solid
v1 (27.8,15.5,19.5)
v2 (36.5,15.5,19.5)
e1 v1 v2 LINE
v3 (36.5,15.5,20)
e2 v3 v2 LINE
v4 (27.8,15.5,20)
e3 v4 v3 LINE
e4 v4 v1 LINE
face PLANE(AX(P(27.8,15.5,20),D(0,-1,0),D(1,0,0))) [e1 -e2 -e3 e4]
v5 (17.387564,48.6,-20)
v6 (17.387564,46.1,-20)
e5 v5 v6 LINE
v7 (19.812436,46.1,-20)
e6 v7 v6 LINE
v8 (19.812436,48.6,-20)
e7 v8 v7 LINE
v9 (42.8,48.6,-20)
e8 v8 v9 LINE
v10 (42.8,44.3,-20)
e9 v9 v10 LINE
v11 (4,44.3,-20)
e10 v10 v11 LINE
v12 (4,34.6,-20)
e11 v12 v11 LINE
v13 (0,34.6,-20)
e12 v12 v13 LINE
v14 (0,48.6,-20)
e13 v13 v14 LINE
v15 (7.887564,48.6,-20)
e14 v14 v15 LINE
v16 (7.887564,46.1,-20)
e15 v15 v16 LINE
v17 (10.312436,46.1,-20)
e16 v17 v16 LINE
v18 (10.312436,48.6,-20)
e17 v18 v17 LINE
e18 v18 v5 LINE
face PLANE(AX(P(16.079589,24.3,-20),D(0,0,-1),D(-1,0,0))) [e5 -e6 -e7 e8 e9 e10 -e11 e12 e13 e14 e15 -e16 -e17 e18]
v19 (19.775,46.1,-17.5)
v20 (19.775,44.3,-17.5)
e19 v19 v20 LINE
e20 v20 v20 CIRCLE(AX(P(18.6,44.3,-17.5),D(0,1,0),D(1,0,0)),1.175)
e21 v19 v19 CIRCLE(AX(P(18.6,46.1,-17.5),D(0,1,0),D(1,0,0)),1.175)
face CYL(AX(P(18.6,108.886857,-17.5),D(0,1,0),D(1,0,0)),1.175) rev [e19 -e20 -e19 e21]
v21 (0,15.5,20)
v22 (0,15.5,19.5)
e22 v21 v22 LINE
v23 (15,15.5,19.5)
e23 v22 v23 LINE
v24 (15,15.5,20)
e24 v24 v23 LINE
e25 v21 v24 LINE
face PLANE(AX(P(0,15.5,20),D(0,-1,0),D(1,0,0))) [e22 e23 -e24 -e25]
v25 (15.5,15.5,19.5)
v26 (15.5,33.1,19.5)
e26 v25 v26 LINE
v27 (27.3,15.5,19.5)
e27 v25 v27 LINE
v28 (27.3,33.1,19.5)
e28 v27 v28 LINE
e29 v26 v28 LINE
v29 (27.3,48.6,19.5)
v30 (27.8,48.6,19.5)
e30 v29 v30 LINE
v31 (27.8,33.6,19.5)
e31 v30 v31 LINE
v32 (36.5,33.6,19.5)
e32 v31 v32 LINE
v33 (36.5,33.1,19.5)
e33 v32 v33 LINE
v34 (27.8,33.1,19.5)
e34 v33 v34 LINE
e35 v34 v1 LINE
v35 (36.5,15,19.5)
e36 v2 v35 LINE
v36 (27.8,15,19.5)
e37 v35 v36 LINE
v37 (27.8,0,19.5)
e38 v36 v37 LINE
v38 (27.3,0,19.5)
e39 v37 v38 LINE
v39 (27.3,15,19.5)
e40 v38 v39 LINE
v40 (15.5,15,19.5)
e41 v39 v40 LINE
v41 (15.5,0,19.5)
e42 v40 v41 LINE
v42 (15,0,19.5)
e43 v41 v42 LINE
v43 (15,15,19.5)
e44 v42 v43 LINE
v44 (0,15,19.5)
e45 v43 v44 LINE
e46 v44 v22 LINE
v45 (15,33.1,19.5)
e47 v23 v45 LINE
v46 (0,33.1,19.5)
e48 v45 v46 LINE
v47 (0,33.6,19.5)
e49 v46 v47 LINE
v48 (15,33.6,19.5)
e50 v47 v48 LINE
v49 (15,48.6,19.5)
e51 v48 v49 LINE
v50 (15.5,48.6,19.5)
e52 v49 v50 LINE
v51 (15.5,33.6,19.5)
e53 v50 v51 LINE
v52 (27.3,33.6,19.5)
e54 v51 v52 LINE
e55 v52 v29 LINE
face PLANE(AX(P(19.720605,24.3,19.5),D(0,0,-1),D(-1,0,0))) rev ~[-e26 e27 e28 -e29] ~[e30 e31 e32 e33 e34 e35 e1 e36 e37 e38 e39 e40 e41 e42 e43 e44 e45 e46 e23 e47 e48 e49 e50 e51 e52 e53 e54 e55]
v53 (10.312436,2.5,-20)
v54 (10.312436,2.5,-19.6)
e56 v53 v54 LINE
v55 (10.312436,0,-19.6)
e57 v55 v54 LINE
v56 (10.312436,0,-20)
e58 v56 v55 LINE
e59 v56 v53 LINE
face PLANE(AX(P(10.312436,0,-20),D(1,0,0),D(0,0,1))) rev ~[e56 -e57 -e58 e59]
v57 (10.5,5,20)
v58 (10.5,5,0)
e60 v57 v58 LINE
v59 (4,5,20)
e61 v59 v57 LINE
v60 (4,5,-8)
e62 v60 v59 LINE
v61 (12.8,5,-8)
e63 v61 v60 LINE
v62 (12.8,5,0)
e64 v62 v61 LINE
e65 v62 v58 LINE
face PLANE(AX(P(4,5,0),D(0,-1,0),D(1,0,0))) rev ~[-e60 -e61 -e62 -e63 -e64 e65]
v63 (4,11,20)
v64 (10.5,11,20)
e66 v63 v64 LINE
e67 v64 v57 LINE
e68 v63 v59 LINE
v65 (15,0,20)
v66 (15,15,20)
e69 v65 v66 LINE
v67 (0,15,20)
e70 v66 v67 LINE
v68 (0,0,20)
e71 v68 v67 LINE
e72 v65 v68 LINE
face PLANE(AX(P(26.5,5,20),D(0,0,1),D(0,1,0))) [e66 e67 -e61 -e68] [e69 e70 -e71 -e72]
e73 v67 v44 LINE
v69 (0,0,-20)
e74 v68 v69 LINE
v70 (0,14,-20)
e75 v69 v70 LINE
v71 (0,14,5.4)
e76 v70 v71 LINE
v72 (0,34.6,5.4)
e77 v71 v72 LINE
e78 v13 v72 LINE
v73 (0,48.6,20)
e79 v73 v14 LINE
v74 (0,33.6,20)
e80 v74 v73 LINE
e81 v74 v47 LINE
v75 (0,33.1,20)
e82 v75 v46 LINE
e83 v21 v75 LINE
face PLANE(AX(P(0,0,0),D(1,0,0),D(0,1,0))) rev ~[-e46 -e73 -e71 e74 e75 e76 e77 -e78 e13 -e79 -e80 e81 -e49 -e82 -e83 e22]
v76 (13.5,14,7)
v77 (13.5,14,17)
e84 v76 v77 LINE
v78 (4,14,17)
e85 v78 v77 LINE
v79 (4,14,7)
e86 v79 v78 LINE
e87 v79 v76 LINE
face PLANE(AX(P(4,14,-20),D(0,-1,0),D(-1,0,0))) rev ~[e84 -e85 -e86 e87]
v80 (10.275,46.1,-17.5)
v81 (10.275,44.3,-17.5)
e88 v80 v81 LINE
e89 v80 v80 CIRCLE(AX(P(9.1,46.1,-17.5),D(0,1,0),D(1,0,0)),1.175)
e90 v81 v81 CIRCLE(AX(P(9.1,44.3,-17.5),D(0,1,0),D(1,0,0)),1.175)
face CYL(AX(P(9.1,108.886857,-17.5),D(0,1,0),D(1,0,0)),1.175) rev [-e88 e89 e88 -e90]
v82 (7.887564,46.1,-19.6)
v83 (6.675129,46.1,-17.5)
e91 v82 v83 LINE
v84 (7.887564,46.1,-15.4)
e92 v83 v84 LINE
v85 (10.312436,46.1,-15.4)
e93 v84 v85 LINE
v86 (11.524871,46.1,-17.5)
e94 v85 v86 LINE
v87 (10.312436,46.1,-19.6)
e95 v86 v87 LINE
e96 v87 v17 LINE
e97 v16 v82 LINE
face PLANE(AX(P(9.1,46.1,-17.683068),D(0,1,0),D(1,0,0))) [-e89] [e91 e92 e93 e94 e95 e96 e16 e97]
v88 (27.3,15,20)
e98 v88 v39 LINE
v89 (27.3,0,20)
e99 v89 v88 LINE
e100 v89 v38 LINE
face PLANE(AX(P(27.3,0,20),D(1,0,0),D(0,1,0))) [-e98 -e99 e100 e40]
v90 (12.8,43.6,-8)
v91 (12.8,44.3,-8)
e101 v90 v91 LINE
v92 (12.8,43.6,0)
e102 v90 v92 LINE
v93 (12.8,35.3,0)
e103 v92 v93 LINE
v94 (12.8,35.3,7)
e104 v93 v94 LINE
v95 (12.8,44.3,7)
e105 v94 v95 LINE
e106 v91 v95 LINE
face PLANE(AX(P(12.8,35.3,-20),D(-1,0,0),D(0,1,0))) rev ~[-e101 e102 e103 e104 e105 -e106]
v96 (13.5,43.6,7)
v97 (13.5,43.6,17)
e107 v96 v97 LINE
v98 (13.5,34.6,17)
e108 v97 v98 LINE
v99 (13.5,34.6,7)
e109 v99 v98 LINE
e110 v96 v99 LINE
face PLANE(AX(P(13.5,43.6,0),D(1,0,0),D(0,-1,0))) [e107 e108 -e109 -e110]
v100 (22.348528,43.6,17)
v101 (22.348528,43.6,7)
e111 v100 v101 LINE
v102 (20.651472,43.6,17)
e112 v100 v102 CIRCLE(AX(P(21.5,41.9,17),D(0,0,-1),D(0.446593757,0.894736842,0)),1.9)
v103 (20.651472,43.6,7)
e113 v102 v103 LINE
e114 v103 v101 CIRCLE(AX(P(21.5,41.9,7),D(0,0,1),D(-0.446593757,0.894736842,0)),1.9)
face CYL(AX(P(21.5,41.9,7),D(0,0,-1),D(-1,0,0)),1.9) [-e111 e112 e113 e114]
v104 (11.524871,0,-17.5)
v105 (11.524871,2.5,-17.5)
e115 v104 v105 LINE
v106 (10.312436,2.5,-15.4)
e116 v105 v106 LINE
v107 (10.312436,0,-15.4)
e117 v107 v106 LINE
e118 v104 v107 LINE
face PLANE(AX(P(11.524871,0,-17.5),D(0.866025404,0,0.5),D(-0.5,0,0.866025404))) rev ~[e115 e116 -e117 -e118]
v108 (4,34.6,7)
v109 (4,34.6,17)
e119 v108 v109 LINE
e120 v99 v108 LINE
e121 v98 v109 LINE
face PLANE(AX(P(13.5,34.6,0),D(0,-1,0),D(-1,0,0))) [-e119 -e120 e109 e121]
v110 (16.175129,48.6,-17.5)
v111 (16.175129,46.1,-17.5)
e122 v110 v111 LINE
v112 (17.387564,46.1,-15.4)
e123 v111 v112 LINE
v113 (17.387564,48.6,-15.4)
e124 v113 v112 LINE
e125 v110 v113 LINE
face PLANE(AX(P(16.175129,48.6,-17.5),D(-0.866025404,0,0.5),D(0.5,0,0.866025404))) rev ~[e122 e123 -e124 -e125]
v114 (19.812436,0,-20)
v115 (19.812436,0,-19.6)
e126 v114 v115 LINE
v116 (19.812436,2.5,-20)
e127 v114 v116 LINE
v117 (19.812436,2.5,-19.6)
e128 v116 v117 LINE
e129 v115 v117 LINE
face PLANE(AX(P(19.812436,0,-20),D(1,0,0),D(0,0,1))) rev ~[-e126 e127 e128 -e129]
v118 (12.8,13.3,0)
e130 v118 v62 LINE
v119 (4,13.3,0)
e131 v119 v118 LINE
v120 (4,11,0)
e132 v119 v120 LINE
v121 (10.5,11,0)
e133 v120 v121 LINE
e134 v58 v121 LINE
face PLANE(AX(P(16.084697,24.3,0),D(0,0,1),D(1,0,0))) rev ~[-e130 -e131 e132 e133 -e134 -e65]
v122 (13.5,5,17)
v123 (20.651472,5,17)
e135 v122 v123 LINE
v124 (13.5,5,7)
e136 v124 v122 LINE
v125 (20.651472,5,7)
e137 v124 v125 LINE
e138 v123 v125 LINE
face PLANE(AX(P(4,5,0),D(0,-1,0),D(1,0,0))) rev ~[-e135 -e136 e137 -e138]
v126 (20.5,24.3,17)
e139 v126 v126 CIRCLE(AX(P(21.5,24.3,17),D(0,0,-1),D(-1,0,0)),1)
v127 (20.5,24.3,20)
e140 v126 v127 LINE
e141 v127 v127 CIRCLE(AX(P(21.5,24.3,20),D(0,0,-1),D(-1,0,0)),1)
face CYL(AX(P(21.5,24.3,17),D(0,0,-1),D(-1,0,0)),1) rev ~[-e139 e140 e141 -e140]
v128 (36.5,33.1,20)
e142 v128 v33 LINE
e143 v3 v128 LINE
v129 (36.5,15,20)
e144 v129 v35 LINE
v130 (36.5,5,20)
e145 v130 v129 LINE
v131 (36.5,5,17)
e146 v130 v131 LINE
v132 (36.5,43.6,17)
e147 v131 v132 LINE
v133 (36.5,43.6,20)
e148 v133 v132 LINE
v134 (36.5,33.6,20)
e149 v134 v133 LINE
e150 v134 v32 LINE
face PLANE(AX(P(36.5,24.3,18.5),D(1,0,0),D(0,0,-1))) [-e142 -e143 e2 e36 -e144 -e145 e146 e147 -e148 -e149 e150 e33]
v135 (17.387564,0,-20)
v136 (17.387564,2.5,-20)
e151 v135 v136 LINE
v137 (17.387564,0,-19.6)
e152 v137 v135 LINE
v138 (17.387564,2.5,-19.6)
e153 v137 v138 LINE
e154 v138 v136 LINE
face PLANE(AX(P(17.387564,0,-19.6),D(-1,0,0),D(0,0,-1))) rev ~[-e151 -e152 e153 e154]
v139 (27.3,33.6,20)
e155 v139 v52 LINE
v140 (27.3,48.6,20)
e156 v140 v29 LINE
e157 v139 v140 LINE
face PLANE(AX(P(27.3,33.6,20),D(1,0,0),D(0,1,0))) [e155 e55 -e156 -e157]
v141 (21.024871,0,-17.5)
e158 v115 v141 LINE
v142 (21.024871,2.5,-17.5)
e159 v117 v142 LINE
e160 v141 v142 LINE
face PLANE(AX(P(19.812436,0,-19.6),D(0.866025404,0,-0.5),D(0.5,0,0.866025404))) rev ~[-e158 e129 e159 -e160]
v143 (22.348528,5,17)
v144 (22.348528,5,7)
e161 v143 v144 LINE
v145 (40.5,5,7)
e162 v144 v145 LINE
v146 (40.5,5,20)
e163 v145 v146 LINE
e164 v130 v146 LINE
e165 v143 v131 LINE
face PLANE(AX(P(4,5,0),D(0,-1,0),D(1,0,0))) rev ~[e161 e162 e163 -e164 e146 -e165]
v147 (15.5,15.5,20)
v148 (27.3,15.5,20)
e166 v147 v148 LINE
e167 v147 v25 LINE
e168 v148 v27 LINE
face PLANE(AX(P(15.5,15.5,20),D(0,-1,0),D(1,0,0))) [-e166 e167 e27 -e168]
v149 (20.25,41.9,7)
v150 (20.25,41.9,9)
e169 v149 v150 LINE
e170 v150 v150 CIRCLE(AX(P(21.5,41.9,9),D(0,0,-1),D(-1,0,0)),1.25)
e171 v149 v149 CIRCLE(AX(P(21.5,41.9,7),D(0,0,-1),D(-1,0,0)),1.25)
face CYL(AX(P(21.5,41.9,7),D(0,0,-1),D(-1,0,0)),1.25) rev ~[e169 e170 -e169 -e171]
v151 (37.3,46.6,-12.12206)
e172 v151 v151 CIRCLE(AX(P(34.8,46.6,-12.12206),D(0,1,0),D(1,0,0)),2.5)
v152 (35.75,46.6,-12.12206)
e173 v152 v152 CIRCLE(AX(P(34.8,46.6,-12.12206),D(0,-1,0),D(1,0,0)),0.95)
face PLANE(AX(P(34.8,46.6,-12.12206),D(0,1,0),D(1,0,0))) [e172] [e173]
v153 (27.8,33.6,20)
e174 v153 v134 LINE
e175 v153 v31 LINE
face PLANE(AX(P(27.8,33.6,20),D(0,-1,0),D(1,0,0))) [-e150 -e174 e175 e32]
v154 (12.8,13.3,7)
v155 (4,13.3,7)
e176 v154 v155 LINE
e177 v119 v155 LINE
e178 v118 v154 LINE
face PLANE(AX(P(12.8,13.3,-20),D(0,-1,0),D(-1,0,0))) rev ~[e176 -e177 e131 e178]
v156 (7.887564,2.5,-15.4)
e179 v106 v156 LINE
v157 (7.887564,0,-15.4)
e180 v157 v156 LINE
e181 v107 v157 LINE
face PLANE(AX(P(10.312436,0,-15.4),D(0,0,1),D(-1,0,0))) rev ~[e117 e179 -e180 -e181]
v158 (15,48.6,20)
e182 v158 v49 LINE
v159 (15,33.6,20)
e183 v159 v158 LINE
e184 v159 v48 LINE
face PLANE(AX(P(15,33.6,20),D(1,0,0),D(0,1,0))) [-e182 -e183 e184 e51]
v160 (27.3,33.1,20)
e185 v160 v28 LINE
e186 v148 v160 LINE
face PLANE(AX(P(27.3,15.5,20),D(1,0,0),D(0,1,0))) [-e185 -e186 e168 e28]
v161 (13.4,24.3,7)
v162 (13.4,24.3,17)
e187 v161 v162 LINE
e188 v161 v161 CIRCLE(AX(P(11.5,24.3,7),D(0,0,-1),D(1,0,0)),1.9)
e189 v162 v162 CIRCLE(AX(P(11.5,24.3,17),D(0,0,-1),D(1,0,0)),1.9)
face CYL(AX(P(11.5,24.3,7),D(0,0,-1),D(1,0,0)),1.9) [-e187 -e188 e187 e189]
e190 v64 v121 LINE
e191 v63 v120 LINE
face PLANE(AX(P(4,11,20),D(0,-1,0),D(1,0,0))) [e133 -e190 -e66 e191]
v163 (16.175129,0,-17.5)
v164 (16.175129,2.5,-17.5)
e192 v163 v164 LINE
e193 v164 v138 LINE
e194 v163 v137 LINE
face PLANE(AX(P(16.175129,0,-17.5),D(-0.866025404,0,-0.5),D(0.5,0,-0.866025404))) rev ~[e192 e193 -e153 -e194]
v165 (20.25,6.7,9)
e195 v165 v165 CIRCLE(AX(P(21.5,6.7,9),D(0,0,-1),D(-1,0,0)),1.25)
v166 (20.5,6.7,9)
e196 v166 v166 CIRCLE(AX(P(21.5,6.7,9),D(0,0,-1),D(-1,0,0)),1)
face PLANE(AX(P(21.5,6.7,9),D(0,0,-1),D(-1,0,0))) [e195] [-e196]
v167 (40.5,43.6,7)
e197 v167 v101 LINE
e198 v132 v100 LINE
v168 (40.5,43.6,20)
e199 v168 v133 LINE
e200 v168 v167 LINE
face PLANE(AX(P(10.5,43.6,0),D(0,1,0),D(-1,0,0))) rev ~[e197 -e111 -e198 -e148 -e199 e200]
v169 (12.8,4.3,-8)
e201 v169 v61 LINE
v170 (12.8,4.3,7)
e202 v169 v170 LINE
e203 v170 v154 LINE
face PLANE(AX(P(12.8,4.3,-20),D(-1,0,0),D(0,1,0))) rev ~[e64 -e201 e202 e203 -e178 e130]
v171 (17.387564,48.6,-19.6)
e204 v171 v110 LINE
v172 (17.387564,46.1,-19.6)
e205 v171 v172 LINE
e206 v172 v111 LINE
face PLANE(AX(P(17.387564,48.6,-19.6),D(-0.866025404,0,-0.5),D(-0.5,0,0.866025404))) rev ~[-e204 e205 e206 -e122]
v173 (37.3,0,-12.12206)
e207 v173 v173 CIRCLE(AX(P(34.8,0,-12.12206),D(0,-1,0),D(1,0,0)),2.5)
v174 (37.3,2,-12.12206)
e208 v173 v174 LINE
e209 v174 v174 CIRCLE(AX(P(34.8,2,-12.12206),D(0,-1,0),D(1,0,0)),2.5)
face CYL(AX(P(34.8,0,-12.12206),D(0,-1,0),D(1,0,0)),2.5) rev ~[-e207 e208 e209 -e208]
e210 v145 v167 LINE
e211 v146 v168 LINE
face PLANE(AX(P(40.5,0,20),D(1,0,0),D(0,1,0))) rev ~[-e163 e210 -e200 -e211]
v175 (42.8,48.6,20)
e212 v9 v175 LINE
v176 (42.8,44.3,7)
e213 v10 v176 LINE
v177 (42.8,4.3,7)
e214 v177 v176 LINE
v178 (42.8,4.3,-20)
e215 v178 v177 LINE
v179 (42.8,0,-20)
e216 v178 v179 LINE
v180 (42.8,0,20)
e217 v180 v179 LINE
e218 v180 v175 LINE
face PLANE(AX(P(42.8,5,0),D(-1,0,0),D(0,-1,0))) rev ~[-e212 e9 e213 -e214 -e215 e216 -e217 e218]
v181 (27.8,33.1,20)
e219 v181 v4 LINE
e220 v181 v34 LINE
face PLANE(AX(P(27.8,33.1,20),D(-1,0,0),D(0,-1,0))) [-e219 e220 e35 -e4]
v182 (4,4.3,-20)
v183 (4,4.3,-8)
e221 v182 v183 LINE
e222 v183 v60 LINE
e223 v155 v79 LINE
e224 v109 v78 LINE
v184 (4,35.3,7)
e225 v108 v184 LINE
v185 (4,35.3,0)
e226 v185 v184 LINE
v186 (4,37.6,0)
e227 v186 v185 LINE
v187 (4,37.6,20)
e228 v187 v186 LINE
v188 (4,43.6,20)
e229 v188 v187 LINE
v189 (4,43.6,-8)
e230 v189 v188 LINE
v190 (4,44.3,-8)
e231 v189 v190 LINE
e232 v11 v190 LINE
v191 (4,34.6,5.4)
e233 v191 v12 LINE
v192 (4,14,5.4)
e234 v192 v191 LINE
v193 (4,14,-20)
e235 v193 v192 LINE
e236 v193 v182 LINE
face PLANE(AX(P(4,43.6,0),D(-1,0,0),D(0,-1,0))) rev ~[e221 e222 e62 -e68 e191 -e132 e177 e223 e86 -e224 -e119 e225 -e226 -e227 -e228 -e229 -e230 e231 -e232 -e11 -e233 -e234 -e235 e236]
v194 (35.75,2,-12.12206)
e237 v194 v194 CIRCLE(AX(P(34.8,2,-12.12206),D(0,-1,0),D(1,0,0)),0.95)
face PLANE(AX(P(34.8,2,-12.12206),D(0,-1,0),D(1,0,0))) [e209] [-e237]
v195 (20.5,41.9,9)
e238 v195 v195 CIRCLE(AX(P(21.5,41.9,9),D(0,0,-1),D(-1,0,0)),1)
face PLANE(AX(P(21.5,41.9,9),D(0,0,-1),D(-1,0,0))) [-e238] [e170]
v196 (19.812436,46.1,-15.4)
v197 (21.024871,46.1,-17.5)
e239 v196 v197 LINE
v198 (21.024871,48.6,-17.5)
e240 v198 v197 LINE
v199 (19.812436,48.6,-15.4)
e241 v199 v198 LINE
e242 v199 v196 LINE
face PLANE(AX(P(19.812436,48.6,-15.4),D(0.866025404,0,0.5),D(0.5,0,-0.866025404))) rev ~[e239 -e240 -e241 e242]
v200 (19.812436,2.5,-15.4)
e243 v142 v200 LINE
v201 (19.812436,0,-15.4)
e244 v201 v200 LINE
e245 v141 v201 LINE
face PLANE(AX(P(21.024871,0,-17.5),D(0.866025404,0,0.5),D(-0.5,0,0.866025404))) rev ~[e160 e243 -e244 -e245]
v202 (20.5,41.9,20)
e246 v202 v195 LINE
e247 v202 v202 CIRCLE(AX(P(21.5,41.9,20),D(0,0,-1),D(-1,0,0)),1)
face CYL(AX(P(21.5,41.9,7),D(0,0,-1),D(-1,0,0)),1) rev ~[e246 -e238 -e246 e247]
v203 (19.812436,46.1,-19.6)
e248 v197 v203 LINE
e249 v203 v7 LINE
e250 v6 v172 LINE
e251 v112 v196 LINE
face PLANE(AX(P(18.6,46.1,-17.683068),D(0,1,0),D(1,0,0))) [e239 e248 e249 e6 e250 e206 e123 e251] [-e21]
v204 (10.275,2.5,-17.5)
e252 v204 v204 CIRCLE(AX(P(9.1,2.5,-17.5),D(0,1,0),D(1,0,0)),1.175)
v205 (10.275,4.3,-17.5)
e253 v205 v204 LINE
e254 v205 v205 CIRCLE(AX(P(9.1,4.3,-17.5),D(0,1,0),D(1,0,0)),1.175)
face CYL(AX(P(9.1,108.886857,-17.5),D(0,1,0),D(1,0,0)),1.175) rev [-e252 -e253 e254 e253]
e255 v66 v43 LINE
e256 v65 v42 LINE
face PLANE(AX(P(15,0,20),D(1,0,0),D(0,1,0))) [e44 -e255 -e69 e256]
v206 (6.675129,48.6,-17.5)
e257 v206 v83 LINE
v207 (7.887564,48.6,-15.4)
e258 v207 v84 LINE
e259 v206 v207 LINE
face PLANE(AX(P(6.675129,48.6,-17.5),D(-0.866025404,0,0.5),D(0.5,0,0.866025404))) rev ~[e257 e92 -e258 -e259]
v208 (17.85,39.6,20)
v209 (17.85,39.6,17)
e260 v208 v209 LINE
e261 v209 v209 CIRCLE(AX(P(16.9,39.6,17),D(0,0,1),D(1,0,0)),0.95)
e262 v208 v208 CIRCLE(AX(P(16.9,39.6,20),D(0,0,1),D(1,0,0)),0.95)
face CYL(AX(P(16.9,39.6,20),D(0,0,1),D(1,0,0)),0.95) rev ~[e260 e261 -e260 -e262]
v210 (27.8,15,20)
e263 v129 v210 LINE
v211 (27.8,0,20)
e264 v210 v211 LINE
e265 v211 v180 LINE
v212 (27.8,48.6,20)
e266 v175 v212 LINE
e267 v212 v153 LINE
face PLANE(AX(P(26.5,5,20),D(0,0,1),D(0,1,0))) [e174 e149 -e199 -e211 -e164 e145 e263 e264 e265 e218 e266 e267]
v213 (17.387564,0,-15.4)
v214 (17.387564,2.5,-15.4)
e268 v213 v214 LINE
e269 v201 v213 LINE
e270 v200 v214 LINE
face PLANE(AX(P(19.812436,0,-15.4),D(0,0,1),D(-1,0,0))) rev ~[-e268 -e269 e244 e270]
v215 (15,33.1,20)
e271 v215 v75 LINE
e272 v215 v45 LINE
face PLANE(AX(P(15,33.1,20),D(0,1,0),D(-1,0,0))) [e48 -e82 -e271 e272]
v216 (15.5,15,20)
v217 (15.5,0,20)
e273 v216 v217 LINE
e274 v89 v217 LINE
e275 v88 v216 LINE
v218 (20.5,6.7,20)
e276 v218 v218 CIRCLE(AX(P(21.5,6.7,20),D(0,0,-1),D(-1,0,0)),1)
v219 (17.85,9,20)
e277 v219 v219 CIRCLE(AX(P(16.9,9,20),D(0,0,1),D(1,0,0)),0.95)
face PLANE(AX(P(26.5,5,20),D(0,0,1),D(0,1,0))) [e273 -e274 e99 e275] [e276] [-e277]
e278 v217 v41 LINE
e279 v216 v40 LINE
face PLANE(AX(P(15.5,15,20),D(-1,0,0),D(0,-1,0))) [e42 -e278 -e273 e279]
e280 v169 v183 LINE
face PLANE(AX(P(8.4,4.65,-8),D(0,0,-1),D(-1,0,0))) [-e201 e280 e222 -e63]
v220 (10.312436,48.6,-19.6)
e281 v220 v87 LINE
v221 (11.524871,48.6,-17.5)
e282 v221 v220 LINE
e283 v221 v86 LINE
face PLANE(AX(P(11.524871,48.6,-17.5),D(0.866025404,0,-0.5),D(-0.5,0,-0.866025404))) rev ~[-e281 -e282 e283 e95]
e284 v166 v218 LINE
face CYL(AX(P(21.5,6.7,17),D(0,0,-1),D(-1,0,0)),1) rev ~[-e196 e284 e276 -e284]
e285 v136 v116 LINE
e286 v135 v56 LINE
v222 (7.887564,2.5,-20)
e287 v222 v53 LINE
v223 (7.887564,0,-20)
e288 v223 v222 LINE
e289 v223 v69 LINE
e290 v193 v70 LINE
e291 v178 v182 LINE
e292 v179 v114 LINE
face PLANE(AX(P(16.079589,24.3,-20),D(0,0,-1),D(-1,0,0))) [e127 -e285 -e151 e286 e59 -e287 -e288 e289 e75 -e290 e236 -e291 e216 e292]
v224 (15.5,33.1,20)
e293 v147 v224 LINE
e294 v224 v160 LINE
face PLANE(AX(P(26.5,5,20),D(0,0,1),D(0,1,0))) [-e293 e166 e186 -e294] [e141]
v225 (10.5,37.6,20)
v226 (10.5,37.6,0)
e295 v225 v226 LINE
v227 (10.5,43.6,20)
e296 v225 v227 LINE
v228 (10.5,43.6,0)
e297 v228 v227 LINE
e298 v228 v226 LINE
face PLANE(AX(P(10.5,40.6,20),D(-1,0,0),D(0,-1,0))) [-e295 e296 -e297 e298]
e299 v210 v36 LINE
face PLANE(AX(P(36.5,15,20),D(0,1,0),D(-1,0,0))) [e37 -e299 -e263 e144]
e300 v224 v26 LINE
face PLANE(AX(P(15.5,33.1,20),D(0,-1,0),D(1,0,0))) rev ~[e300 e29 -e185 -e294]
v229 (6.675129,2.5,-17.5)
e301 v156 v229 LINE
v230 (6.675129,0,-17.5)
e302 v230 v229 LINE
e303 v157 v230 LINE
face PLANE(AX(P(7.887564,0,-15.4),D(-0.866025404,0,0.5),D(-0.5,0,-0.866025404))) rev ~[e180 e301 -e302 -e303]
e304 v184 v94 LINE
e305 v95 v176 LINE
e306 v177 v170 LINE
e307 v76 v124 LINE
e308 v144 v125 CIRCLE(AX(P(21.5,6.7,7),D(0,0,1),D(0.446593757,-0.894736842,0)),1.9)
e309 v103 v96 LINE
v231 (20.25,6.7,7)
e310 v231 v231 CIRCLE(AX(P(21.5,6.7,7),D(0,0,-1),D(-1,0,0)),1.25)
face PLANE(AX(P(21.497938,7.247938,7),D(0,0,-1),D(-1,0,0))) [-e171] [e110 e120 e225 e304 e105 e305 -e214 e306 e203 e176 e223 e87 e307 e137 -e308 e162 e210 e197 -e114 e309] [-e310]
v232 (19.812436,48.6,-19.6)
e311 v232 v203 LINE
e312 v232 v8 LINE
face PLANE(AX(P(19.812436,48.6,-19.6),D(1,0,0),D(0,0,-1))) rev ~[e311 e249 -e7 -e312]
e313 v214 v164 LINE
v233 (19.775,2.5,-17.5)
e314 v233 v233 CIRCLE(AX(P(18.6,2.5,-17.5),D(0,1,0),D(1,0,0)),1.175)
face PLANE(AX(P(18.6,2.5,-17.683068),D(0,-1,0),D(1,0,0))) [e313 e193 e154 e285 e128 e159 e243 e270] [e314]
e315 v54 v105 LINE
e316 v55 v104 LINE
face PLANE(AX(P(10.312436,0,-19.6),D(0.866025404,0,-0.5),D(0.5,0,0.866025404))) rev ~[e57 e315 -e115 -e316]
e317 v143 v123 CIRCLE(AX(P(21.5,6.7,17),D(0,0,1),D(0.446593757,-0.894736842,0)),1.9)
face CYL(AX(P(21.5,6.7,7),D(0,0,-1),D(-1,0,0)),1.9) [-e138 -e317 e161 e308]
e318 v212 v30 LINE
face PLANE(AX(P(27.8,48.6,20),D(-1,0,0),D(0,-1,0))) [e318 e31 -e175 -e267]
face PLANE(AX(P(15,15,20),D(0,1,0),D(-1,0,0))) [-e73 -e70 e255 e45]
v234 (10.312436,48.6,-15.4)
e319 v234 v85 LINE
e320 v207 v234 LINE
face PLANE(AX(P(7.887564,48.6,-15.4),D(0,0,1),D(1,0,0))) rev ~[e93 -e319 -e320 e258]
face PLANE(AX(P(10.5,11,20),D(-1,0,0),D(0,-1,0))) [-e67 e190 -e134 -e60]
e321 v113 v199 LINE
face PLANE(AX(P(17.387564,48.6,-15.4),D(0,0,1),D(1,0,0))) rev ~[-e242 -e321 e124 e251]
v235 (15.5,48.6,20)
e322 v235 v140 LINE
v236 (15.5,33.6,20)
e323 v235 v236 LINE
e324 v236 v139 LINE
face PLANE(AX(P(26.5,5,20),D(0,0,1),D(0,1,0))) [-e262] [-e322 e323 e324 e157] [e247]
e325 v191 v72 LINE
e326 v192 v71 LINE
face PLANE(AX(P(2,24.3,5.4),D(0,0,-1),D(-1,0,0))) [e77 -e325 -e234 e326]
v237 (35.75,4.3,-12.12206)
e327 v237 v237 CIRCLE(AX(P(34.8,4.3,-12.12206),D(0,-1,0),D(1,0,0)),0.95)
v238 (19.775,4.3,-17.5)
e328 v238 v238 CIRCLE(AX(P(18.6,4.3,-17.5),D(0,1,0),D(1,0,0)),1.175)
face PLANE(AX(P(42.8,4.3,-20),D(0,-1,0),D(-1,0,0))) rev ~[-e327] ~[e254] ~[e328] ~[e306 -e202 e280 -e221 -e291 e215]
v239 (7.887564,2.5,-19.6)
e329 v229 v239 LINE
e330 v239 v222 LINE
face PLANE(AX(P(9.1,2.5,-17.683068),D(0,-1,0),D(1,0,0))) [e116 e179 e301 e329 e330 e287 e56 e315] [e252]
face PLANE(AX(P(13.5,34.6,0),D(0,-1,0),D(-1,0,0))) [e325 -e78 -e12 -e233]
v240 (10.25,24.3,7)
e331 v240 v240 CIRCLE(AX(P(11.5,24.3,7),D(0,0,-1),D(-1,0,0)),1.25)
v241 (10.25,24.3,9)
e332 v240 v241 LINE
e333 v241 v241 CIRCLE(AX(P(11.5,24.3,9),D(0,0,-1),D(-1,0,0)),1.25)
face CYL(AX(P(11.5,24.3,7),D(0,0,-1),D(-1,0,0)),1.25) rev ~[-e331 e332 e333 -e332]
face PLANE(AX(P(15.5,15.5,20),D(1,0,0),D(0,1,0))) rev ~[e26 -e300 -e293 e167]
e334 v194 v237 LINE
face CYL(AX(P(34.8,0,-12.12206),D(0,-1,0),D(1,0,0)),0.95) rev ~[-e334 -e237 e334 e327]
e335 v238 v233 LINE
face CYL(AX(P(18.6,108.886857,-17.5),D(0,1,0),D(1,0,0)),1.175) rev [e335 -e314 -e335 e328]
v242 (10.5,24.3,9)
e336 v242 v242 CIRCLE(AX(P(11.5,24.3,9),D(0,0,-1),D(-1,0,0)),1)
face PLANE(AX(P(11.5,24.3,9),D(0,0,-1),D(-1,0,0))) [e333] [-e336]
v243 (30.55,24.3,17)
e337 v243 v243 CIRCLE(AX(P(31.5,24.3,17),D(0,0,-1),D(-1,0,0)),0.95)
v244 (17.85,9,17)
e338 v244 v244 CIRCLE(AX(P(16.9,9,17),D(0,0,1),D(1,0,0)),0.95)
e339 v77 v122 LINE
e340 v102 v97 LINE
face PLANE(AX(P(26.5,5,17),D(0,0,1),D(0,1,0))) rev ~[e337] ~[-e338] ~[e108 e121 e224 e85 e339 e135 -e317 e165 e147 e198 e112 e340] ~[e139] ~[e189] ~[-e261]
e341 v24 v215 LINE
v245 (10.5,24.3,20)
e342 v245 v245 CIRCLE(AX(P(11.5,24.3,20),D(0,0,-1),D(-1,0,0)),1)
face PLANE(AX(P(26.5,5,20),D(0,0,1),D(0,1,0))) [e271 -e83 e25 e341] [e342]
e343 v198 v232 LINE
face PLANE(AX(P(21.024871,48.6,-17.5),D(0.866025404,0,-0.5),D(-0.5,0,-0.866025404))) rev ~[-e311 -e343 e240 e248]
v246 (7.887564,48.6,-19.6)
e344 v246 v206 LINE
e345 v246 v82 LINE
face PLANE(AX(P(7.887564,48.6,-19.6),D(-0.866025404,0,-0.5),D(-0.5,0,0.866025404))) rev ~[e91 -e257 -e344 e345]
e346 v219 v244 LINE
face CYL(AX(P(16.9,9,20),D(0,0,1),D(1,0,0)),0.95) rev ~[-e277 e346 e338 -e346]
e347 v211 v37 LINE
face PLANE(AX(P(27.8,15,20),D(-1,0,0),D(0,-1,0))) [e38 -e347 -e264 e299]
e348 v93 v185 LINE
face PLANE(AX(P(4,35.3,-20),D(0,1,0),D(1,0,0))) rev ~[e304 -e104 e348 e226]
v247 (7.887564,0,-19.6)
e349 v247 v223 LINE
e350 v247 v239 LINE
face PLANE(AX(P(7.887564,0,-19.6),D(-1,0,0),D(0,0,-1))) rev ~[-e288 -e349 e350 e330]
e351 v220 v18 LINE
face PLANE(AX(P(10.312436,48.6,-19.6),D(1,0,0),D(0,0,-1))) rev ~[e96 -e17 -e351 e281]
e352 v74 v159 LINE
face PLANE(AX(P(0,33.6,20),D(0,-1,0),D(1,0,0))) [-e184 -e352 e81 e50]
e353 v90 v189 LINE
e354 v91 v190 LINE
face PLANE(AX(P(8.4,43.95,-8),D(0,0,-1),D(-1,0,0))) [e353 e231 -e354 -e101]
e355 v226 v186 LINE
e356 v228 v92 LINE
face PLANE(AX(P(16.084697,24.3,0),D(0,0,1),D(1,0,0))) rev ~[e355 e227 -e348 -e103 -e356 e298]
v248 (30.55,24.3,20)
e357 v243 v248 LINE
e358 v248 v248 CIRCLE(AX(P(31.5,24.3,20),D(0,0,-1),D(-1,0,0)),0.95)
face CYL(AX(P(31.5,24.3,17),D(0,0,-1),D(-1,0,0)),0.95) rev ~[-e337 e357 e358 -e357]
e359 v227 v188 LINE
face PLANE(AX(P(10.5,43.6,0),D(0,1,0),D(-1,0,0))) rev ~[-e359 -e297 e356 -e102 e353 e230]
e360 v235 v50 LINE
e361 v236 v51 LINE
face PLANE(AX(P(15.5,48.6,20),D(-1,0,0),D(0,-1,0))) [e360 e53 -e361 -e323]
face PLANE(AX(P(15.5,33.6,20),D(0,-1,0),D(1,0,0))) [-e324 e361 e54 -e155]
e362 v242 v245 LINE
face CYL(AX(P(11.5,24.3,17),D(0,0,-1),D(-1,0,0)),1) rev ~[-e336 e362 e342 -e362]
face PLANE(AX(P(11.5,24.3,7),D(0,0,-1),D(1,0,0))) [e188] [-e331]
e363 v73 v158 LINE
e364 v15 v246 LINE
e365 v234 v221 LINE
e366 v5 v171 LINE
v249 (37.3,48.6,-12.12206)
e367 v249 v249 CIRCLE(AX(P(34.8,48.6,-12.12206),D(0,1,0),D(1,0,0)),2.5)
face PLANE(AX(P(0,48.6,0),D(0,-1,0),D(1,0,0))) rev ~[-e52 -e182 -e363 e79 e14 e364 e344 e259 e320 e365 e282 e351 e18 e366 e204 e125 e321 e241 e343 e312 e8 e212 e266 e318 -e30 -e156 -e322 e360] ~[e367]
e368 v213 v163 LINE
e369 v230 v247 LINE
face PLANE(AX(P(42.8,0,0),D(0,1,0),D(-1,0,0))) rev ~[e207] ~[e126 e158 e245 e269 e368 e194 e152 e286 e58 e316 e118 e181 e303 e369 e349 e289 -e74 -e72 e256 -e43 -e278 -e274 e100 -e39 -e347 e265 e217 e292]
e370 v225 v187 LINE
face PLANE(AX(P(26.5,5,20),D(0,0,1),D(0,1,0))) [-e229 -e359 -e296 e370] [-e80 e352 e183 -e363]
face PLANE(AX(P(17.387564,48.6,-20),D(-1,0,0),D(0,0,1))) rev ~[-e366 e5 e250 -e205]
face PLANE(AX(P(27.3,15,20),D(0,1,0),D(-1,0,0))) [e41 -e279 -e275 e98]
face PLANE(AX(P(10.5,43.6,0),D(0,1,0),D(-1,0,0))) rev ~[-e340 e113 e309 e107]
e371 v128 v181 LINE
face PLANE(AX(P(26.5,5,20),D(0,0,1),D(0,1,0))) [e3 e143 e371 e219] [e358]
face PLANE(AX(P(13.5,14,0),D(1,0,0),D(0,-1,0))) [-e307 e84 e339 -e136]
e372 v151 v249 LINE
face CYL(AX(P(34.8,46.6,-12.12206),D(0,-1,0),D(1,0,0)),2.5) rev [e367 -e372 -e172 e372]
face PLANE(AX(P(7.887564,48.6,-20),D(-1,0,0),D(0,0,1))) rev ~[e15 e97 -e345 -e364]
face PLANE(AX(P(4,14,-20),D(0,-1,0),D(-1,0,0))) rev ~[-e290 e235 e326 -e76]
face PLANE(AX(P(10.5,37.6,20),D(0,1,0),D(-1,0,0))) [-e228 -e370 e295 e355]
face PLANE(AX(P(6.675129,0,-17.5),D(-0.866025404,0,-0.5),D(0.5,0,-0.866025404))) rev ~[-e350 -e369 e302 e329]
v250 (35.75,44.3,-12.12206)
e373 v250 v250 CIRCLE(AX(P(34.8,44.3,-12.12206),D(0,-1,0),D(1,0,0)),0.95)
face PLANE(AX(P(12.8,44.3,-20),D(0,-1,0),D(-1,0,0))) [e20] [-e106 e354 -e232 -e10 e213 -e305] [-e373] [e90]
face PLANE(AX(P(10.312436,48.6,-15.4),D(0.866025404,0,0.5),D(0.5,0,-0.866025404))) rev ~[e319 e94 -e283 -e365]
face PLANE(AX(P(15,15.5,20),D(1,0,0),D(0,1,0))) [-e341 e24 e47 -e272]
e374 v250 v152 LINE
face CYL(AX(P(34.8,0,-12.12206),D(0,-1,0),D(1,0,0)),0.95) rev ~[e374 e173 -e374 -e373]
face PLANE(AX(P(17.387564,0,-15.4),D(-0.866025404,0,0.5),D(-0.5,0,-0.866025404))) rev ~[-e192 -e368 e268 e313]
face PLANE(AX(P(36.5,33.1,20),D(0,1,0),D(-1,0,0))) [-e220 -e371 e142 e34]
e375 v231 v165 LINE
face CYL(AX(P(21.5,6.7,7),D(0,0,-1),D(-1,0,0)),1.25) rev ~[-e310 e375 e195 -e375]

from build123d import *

# Parameters (mm, degrees)
EXTRUDE_1_DEPTH          = 20
SKETCH_2_W               = 4
SKETCH_2_H               = 38.6
CUT_EXTRUDE_1_DEPTH      = 20
CUT_EXTRUDE_2_DEPTH      = 65.286857133
CUT_EXTRUDE_2_DEPTH_BACK = 65.286857133
SKETCH_3_R               = 1.175
EXTRUDE_2_DEPTH          = 20
CUT_EXTRUDE_3_DEPTH      = 17
SKETCH_7_R               = 1
CUT_EXTRUDE_4_DEPTH      = 4.8
SKETCH_8_W               = 4
SKETCH_8_H               = 20.6
CUT_EXTRUDE_5_DEPTH      = 25.4
EXTRUDE_START            = 10
SKETCH_9_R               = 1.9
SKETCH_9_R_2             = 1
EXTRUDE_3_DEPTH          = 10
CUT_EXTRUDE_6_DEPTH      = 2.5
CUT_EXTRUDE_7_DEPTH      = 2.5
CUT_EXTRUDE_10_DEPTH     = 27
SKETCH_15_R              = 0.95
CUT_EXTRUDE_11_DEPTH     = 50
SKETCH_16_R              = 2.5
CUT_EXTRUDE_12_DEPTH     = 2
CUT_EXTRUDE_START        = -2
SKETCH_17_R              = 2.5
CUT_EXTRUDE_13_DEPTH     = 2
SKETCH_18_W              = 3
SKETCH_18_H              = 38.6
EXTRUDE_4_DEPTH          = 10
SKETCH_19_W              = 11.8
SKETCH_19_H              = 17.6
CUT_EXTRUDE_14_DEPTH     = 0.5
SKETCH_20_R              = 0.95
CUT_EXTRUDE_15_DEPTH     = 10.5
SKETCH_21_W              = 8.8
SKETCH_21_H              = 0.7
CUT_EXTRUDE_16_DEPTH     = 12
SKETCH_23_W              = 2.3
SKETCH_23_H              = 48.6
EXTRUDE_5_DEPTH          = 13
SKETCH_26_R              = 0.95
CUT_EXTRUDE_17_DEPTH     = 10
SKETCH_27_R              = 1.25
CUT_EXTRUDE_18_DEPTH     = 2


with BuildPart() as part:
    # 草图1 → 凸台-拉伸1 (new, symmetric)
    with BuildSketch(Plane.XY):
        Polygon((4, 5), (10.5, 5), (10.5, 8), (14.5, 8), (14.5, 5), (42.8, 5), (42.8, 0), (0, 0), (0, 48.6), (42.8, 48.6), (42.8, 43.6), (14.5, 43.6), (14.5, 40.6), (10.5, 40.6), (10.5, 43.6), (4, 43.6), align=None)
    extrude(amount=EXTRUDE_1_DEPTH, both=True)

    # 草图2 → 切除-拉伸1 (cut)
    with BuildSketch(Plane(origin=(0, 0, -20), x_dir=(-1, 0, 0), z_dir=(0, 0, -1))):
        with Locations((-12.5, 24.3)):
            Rectangle(SKETCH_2_W, SKETCH_2_H)
    extrude(amount=-CUT_EXTRUDE_1_DEPTH, mode=Mode.SUBTRACT)

    # 草图3 → 切除-拉伸2 (cut, two sides: drawn at the far end of the back side and taken through both)
    with BuildSketch(Plane.XZ.offset(-43.6).offset(-CUT_EXTRUDE_2_DEPTH_BACK)):
        with Locations((9.1, -17.5)):
            Circle(SKETCH_3_R)
        with Locations((18.6, -17.5)):
            Circle(SKETCH_3_R)
    extrude(amount=CUT_EXTRUDE_2_DEPTH + CUT_EXTRUDE_2_DEPTH_BACK, mode=Mode.SUBTRACT)

    # 草图4 → 凸台-拉伸2 (add)
    with BuildSketch(Plane.XY.offset(20)):
        Polygon((10.5, 40.6), (10.5, 37.6), (4, 37.6), (4, 11), (10.5, 11), (10.5, 8), (14.5, 8), (14.5, 5), (26.5, 5), (26.5, 43.6), (14.5, 43.6), (14.5, 40.6), align=None)
    extrude(amount=-EXTRUDE_2_DEPTH)

    # 草图6 → 切除-拉伸3 (cut)
    with BuildSketch(Plane(origin=(0, 0, 0), x_dir=(-1, 0, 0), z_dir=(0, 0, -1))):
        Polygon((-26.5, 43.6), (-13.5, 43.6), (-13.5, 34.6), (-4, 34.6), (-4, 14), (-13.5, 14), (-13.5, 5), (-26.5, 5), align=None)
    extrude(amount=-CUT_EXTRUDE_3_DEPTH, mode=Mode.SUBTRACT)

    # 草图7 → 切除-拉伸4 (cut)
    with BuildSketch(Plane(origin=(0, 0, 17), x_dir=(-1, 0, 0), z_dir=(0, 0, -1))):
        with Locations((-21.5, 24.3)):
            Circle(SKETCH_7_R)
        with Locations((-11.5, 24.3)):
            Circle(SKETCH_7_R)
        with Locations((-21.5, 6.7)):
            Circle(SKETCH_7_R)
        with Locations((-21.5, 41.9)):
            Circle(SKETCH_7_R)
    extrude(amount=-CUT_EXTRUDE_4_DEPTH, mode=Mode.SUBTRACT)

    # 草图8 → 切除-拉伸5 (cut)
    with BuildSketch(Plane(origin=(0, 0, -20), x_dir=(-1, 0, 0), z_dir=(0, 0, -1))):
        with Locations((-2, 24.3)):
            Rectangle(SKETCH_8_W, SKETCH_8_H)
    extrude(amount=-CUT_EXTRUDE_5_DEPTH, mode=Mode.SUBTRACT)

    # 草图9 → 凸台-拉伸3 (add)
    # profile 1 of 3: a face of its own
    with BuildSketch(Plane(origin=(0, 0, 17), x_dir=(-1, 0, 0), z_dir=(0, 0, -1)).offset(EXTRUDE_START)):
        with Locations((-21.5, 41.9)):
            Circle(SKETCH_9_R)
        with Locations((-21.5, 41.9)):
            Circle(SKETCH_9_R_2, mode=Mode.SUBTRACT)
    # profile 2 of 3: a face of its own
    with BuildSketch(Plane(origin=(0, 0, 17), x_dir=(-1, 0, 0), z_dir=(0, 0, -1)).offset(EXTRUDE_START)):
        with Locations(Location((-11.5, 24.3, 0), (0, 0, 180))):
            Circle(SKETCH_9_R)
        with Locations((-11.5, 24.3)):
            Circle(SKETCH_9_R_2, mode=Mode.SUBTRACT)
    # profile 3 of 3: a face of its own
    with BuildSketch(Plane(origin=(0, 0, 17), x_dir=(-1, 0, 0), z_dir=(0, 0, -1)).offset(EXTRUDE_START)):
        with Locations((-21.5, 6.7)):
            Circle(SKETCH_9_R)
        with Locations((-21.5, 6.7)):
            Circle(SKETCH_9_R_2, mode=Mode.SUBTRACT)
    extrude(amount=-EXTRUDE_3_DEPTH)

    # 草图10 → 切除-拉伸6 (cut)
    with BuildSketch(Plane(origin=(0, 48.6, 0), x_dir=(1, 0, 0), z_dir=(0, 1, 0))):
        Polygon((11.524871131, 17.5), (10.312435565, 19.6), (10.312435565, 20), (7.887564435, 20), (7.887564435, 19.6), (6.675128869, 17.5), (7.887564435, 15.4), (10.312435565, 15.4), align=None)
        Polygon((21.024871131, 17.5), (19.812435565, 19.6), (19.812435565, 20), (17.387564435, 20), (17.387564435, 19.6), (16.175128869, 17.5), (17.387564435, 15.4), (19.812435565, 15.4), align=None)
    extrude(amount=-CUT_EXTRUDE_6_DEPTH, mode=Mode.SUBTRACT)

    # 草图11 → 切除-拉伸7 (cut)
    with BuildSketch(Plane.XZ):
        Polygon((11.524871131, -17.5), (10.312435565, -15.4), (7.887564435, -15.4), (6.675128869, -17.5), (7.887564435, -19.6), (7.887564435, -20), (10.312435565, -20), (10.312435565, -19.6), align=None)
        Polygon((21.024871131, -17.5), (19.812435565, -15.4), (17.387564435, -15.4), (16.175128869, -17.5), (17.387564435, -19.6), (17.387564435, -20), (19.812435565, -20), (19.812435565, -19.6), align=None)
    extrude(amount=-CUT_EXTRUDE_7_DEPTH, mode=Mode.SUBTRACT)

    # 草图14 → 切除-拉伸10 (cut)
    with BuildSketch(Plane(origin=(0, 0, -20), x_dir=(-1, 0, 0), z_dir=(0, 0, -1))):
        Polygon((-42.8, 4.3), (-12.8, 4.3), (-12.8, 13.3), (-4, 13.3), (-4, 14), (-13.5, 14), (-13.5, 5), (-42.8, 5), align=None)
        Polygon((-4, 35.3), (-12.8, 35.3), (-12.8, 44.3), (-42.8, 44.3), (-42.8, 43.6), (-13.5, 43.6), (-13.5, 34.6), (-4, 34.6), align=None)
    extrude(amount=-CUT_EXTRUDE_10_DEPTH, mode=Mode.SUBTRACT)

    # 草图15 → 切除-拉伸11 (cut)
    with BuildSketch(Plane.XZ):
        with Locations((34.8, -12.122060158)):
            Circle(SKETCH_15_R)
    extrude(amount=-CUT_EXTRUDE_11_DEPTH, mode=Mode.SUBTRACT)

    # 草图16 → 切除-拉伸12 (cut)
    with BuildSketch(Plane.XZ):
        with Locations((34.8, -12.122060158)):
            Circle(SKETCH_16_R)
    extrude(amount=-CUT_EXTRUDE_12_DEPTH, mode=Mode.SUBTRACT)

    # 草图17 → 切除-拉伸13 (cut)
    with BuildSketch(Plane(origin=(0, 48.6, 0), x_dir=(1, 0, 0), z_dir=(0, 1, 0)).offset(CUT_EXTRUDE_START)):
        with Locations((34.8, 12.122060158)):
            Circle(SKETCH_17_R)
    extrude(amount=CUT_EXTRUDE_13_DEPTH, mode=Mode.SUBTRACT)

    # 草图18 → 凸台-拉伸4 (add)
    with BuildSketch(Plane(origin=(26.5, 0, 0), x_dir=(0, 0, -1), z_dir=(1, 0, 0))):
        with Locations((-18.5, 24.3)):
            Rectangle(SKETCH_18_W, SKETCH_18_H)
    extrude(amount=EXTRUDE_4_DEPTH)

    # 草图19 → 切除-拉伸14 (cut)
    with BuildSketch(Plane.XY.offset(20)):
        Polygon((15, 48.6), (15.5, 48.6), (15.5, 33.6), (27.3, 33.6), (27.3, 48.6), (27.8, 48.6), (27.8, 33.6), (36.5, 33.6), (36.5, 33.1), (27.8, 33.1), (27.8, 15.5), (36.5, 15.5), (36.5, 15), (27.8, 15), (27.8, 0), (27.3, 0), (27.3, 15), (15.5, 15), (15.5, 0), (15, 0), (15, 15), (0, 15), (0, 15.5), (15, 15.5), (15, 33.1), (0, 33.1), (0, 33.6), (15, 33.6), align=None)
        with Locations((21.4, 24.3)):
            Rectangle(SKETCH_19_W, SKETCH_19_H, mode=Mode.SUBTRACT)
    extrude(amount=-CUT_EXTRUDE_14_DEPTH, mode=Mode.SUBTRACT)

    # 草图20 → 切除-拉伸15 (cut)
    with BuildSketch(Plane(origin=(0, 0, 17), x_dir=(-1, 0, 0), z_dir=(0, 0, -1))):
        with Locations((-31.5, 24.3)):
            Circle(SKETCH_20_R)
    extrude(amount=-CUT_EXTRUDE_15_DEPTH, mode=Mode.SUBTRACT)

    # 草图21 → 切除-拉伸16 (cut)
    with BuildSketch(Plane(origin=(0, 0, -20), x_dir=(-1, 0, 0), z_dir=(0, 0, -1))):
        with Locations((-8.4, 43.95)):
            Rectangle(SKETCH_21_W, SKETCH_21_H)
        with Locations((-8.4, 4.65)):
            Rectangle(SKETCH_21_W, SKETCH_21_H)
    extrude(amount=-CUT_EXTRUDE_16_DEPTH, mode=Mode.SUBTRACT)

    # 草图23 → 凸台-拉伸5 (add)
    with BuildSketch(Plane.XY.offset(20)):
        with Locations((41.65, 24.3)):
            Rectangle(SKETCH_23_W, SKETCH_23_H)
    extrude(amount=-EXTRUDE_5_DEPTH)

    # 草图26 → 切除-拉伸17 (cut)
    with BuildSketch(Plane.XY.offset(20)):
        with Locations((16.9, 9)):
            Circle(SKETCH_26_R)
        with Locations((16.9, 39.6)):
            Circle(SKETCH_26_R)
    extrude(amount=-CUT_EXTRUDE_17_DEPTH, mode=Mode.SUBTRACT)

    # 草图27 → 切除-拉伸18 (cut)
    with BuildSketch(Plane(origin=(0, 0, 7), x_dir=(-1, 0, 0), z_dir=(0, 0, -1))):
        with Locations((-21.5, 41.9)):
            Circle(SKETCH_27_R)
        with Locations((-11.5, 24.3)):
            Circle(SKETCH_27_R)
        with Locations((-21.5, 6.7)):
            Circle(SKETCH_27_R)
    extrude(amount=-CUT_EXTRUDE_18_DEPTH, mode=Mode.SUBTRACT)


solid = part.part
